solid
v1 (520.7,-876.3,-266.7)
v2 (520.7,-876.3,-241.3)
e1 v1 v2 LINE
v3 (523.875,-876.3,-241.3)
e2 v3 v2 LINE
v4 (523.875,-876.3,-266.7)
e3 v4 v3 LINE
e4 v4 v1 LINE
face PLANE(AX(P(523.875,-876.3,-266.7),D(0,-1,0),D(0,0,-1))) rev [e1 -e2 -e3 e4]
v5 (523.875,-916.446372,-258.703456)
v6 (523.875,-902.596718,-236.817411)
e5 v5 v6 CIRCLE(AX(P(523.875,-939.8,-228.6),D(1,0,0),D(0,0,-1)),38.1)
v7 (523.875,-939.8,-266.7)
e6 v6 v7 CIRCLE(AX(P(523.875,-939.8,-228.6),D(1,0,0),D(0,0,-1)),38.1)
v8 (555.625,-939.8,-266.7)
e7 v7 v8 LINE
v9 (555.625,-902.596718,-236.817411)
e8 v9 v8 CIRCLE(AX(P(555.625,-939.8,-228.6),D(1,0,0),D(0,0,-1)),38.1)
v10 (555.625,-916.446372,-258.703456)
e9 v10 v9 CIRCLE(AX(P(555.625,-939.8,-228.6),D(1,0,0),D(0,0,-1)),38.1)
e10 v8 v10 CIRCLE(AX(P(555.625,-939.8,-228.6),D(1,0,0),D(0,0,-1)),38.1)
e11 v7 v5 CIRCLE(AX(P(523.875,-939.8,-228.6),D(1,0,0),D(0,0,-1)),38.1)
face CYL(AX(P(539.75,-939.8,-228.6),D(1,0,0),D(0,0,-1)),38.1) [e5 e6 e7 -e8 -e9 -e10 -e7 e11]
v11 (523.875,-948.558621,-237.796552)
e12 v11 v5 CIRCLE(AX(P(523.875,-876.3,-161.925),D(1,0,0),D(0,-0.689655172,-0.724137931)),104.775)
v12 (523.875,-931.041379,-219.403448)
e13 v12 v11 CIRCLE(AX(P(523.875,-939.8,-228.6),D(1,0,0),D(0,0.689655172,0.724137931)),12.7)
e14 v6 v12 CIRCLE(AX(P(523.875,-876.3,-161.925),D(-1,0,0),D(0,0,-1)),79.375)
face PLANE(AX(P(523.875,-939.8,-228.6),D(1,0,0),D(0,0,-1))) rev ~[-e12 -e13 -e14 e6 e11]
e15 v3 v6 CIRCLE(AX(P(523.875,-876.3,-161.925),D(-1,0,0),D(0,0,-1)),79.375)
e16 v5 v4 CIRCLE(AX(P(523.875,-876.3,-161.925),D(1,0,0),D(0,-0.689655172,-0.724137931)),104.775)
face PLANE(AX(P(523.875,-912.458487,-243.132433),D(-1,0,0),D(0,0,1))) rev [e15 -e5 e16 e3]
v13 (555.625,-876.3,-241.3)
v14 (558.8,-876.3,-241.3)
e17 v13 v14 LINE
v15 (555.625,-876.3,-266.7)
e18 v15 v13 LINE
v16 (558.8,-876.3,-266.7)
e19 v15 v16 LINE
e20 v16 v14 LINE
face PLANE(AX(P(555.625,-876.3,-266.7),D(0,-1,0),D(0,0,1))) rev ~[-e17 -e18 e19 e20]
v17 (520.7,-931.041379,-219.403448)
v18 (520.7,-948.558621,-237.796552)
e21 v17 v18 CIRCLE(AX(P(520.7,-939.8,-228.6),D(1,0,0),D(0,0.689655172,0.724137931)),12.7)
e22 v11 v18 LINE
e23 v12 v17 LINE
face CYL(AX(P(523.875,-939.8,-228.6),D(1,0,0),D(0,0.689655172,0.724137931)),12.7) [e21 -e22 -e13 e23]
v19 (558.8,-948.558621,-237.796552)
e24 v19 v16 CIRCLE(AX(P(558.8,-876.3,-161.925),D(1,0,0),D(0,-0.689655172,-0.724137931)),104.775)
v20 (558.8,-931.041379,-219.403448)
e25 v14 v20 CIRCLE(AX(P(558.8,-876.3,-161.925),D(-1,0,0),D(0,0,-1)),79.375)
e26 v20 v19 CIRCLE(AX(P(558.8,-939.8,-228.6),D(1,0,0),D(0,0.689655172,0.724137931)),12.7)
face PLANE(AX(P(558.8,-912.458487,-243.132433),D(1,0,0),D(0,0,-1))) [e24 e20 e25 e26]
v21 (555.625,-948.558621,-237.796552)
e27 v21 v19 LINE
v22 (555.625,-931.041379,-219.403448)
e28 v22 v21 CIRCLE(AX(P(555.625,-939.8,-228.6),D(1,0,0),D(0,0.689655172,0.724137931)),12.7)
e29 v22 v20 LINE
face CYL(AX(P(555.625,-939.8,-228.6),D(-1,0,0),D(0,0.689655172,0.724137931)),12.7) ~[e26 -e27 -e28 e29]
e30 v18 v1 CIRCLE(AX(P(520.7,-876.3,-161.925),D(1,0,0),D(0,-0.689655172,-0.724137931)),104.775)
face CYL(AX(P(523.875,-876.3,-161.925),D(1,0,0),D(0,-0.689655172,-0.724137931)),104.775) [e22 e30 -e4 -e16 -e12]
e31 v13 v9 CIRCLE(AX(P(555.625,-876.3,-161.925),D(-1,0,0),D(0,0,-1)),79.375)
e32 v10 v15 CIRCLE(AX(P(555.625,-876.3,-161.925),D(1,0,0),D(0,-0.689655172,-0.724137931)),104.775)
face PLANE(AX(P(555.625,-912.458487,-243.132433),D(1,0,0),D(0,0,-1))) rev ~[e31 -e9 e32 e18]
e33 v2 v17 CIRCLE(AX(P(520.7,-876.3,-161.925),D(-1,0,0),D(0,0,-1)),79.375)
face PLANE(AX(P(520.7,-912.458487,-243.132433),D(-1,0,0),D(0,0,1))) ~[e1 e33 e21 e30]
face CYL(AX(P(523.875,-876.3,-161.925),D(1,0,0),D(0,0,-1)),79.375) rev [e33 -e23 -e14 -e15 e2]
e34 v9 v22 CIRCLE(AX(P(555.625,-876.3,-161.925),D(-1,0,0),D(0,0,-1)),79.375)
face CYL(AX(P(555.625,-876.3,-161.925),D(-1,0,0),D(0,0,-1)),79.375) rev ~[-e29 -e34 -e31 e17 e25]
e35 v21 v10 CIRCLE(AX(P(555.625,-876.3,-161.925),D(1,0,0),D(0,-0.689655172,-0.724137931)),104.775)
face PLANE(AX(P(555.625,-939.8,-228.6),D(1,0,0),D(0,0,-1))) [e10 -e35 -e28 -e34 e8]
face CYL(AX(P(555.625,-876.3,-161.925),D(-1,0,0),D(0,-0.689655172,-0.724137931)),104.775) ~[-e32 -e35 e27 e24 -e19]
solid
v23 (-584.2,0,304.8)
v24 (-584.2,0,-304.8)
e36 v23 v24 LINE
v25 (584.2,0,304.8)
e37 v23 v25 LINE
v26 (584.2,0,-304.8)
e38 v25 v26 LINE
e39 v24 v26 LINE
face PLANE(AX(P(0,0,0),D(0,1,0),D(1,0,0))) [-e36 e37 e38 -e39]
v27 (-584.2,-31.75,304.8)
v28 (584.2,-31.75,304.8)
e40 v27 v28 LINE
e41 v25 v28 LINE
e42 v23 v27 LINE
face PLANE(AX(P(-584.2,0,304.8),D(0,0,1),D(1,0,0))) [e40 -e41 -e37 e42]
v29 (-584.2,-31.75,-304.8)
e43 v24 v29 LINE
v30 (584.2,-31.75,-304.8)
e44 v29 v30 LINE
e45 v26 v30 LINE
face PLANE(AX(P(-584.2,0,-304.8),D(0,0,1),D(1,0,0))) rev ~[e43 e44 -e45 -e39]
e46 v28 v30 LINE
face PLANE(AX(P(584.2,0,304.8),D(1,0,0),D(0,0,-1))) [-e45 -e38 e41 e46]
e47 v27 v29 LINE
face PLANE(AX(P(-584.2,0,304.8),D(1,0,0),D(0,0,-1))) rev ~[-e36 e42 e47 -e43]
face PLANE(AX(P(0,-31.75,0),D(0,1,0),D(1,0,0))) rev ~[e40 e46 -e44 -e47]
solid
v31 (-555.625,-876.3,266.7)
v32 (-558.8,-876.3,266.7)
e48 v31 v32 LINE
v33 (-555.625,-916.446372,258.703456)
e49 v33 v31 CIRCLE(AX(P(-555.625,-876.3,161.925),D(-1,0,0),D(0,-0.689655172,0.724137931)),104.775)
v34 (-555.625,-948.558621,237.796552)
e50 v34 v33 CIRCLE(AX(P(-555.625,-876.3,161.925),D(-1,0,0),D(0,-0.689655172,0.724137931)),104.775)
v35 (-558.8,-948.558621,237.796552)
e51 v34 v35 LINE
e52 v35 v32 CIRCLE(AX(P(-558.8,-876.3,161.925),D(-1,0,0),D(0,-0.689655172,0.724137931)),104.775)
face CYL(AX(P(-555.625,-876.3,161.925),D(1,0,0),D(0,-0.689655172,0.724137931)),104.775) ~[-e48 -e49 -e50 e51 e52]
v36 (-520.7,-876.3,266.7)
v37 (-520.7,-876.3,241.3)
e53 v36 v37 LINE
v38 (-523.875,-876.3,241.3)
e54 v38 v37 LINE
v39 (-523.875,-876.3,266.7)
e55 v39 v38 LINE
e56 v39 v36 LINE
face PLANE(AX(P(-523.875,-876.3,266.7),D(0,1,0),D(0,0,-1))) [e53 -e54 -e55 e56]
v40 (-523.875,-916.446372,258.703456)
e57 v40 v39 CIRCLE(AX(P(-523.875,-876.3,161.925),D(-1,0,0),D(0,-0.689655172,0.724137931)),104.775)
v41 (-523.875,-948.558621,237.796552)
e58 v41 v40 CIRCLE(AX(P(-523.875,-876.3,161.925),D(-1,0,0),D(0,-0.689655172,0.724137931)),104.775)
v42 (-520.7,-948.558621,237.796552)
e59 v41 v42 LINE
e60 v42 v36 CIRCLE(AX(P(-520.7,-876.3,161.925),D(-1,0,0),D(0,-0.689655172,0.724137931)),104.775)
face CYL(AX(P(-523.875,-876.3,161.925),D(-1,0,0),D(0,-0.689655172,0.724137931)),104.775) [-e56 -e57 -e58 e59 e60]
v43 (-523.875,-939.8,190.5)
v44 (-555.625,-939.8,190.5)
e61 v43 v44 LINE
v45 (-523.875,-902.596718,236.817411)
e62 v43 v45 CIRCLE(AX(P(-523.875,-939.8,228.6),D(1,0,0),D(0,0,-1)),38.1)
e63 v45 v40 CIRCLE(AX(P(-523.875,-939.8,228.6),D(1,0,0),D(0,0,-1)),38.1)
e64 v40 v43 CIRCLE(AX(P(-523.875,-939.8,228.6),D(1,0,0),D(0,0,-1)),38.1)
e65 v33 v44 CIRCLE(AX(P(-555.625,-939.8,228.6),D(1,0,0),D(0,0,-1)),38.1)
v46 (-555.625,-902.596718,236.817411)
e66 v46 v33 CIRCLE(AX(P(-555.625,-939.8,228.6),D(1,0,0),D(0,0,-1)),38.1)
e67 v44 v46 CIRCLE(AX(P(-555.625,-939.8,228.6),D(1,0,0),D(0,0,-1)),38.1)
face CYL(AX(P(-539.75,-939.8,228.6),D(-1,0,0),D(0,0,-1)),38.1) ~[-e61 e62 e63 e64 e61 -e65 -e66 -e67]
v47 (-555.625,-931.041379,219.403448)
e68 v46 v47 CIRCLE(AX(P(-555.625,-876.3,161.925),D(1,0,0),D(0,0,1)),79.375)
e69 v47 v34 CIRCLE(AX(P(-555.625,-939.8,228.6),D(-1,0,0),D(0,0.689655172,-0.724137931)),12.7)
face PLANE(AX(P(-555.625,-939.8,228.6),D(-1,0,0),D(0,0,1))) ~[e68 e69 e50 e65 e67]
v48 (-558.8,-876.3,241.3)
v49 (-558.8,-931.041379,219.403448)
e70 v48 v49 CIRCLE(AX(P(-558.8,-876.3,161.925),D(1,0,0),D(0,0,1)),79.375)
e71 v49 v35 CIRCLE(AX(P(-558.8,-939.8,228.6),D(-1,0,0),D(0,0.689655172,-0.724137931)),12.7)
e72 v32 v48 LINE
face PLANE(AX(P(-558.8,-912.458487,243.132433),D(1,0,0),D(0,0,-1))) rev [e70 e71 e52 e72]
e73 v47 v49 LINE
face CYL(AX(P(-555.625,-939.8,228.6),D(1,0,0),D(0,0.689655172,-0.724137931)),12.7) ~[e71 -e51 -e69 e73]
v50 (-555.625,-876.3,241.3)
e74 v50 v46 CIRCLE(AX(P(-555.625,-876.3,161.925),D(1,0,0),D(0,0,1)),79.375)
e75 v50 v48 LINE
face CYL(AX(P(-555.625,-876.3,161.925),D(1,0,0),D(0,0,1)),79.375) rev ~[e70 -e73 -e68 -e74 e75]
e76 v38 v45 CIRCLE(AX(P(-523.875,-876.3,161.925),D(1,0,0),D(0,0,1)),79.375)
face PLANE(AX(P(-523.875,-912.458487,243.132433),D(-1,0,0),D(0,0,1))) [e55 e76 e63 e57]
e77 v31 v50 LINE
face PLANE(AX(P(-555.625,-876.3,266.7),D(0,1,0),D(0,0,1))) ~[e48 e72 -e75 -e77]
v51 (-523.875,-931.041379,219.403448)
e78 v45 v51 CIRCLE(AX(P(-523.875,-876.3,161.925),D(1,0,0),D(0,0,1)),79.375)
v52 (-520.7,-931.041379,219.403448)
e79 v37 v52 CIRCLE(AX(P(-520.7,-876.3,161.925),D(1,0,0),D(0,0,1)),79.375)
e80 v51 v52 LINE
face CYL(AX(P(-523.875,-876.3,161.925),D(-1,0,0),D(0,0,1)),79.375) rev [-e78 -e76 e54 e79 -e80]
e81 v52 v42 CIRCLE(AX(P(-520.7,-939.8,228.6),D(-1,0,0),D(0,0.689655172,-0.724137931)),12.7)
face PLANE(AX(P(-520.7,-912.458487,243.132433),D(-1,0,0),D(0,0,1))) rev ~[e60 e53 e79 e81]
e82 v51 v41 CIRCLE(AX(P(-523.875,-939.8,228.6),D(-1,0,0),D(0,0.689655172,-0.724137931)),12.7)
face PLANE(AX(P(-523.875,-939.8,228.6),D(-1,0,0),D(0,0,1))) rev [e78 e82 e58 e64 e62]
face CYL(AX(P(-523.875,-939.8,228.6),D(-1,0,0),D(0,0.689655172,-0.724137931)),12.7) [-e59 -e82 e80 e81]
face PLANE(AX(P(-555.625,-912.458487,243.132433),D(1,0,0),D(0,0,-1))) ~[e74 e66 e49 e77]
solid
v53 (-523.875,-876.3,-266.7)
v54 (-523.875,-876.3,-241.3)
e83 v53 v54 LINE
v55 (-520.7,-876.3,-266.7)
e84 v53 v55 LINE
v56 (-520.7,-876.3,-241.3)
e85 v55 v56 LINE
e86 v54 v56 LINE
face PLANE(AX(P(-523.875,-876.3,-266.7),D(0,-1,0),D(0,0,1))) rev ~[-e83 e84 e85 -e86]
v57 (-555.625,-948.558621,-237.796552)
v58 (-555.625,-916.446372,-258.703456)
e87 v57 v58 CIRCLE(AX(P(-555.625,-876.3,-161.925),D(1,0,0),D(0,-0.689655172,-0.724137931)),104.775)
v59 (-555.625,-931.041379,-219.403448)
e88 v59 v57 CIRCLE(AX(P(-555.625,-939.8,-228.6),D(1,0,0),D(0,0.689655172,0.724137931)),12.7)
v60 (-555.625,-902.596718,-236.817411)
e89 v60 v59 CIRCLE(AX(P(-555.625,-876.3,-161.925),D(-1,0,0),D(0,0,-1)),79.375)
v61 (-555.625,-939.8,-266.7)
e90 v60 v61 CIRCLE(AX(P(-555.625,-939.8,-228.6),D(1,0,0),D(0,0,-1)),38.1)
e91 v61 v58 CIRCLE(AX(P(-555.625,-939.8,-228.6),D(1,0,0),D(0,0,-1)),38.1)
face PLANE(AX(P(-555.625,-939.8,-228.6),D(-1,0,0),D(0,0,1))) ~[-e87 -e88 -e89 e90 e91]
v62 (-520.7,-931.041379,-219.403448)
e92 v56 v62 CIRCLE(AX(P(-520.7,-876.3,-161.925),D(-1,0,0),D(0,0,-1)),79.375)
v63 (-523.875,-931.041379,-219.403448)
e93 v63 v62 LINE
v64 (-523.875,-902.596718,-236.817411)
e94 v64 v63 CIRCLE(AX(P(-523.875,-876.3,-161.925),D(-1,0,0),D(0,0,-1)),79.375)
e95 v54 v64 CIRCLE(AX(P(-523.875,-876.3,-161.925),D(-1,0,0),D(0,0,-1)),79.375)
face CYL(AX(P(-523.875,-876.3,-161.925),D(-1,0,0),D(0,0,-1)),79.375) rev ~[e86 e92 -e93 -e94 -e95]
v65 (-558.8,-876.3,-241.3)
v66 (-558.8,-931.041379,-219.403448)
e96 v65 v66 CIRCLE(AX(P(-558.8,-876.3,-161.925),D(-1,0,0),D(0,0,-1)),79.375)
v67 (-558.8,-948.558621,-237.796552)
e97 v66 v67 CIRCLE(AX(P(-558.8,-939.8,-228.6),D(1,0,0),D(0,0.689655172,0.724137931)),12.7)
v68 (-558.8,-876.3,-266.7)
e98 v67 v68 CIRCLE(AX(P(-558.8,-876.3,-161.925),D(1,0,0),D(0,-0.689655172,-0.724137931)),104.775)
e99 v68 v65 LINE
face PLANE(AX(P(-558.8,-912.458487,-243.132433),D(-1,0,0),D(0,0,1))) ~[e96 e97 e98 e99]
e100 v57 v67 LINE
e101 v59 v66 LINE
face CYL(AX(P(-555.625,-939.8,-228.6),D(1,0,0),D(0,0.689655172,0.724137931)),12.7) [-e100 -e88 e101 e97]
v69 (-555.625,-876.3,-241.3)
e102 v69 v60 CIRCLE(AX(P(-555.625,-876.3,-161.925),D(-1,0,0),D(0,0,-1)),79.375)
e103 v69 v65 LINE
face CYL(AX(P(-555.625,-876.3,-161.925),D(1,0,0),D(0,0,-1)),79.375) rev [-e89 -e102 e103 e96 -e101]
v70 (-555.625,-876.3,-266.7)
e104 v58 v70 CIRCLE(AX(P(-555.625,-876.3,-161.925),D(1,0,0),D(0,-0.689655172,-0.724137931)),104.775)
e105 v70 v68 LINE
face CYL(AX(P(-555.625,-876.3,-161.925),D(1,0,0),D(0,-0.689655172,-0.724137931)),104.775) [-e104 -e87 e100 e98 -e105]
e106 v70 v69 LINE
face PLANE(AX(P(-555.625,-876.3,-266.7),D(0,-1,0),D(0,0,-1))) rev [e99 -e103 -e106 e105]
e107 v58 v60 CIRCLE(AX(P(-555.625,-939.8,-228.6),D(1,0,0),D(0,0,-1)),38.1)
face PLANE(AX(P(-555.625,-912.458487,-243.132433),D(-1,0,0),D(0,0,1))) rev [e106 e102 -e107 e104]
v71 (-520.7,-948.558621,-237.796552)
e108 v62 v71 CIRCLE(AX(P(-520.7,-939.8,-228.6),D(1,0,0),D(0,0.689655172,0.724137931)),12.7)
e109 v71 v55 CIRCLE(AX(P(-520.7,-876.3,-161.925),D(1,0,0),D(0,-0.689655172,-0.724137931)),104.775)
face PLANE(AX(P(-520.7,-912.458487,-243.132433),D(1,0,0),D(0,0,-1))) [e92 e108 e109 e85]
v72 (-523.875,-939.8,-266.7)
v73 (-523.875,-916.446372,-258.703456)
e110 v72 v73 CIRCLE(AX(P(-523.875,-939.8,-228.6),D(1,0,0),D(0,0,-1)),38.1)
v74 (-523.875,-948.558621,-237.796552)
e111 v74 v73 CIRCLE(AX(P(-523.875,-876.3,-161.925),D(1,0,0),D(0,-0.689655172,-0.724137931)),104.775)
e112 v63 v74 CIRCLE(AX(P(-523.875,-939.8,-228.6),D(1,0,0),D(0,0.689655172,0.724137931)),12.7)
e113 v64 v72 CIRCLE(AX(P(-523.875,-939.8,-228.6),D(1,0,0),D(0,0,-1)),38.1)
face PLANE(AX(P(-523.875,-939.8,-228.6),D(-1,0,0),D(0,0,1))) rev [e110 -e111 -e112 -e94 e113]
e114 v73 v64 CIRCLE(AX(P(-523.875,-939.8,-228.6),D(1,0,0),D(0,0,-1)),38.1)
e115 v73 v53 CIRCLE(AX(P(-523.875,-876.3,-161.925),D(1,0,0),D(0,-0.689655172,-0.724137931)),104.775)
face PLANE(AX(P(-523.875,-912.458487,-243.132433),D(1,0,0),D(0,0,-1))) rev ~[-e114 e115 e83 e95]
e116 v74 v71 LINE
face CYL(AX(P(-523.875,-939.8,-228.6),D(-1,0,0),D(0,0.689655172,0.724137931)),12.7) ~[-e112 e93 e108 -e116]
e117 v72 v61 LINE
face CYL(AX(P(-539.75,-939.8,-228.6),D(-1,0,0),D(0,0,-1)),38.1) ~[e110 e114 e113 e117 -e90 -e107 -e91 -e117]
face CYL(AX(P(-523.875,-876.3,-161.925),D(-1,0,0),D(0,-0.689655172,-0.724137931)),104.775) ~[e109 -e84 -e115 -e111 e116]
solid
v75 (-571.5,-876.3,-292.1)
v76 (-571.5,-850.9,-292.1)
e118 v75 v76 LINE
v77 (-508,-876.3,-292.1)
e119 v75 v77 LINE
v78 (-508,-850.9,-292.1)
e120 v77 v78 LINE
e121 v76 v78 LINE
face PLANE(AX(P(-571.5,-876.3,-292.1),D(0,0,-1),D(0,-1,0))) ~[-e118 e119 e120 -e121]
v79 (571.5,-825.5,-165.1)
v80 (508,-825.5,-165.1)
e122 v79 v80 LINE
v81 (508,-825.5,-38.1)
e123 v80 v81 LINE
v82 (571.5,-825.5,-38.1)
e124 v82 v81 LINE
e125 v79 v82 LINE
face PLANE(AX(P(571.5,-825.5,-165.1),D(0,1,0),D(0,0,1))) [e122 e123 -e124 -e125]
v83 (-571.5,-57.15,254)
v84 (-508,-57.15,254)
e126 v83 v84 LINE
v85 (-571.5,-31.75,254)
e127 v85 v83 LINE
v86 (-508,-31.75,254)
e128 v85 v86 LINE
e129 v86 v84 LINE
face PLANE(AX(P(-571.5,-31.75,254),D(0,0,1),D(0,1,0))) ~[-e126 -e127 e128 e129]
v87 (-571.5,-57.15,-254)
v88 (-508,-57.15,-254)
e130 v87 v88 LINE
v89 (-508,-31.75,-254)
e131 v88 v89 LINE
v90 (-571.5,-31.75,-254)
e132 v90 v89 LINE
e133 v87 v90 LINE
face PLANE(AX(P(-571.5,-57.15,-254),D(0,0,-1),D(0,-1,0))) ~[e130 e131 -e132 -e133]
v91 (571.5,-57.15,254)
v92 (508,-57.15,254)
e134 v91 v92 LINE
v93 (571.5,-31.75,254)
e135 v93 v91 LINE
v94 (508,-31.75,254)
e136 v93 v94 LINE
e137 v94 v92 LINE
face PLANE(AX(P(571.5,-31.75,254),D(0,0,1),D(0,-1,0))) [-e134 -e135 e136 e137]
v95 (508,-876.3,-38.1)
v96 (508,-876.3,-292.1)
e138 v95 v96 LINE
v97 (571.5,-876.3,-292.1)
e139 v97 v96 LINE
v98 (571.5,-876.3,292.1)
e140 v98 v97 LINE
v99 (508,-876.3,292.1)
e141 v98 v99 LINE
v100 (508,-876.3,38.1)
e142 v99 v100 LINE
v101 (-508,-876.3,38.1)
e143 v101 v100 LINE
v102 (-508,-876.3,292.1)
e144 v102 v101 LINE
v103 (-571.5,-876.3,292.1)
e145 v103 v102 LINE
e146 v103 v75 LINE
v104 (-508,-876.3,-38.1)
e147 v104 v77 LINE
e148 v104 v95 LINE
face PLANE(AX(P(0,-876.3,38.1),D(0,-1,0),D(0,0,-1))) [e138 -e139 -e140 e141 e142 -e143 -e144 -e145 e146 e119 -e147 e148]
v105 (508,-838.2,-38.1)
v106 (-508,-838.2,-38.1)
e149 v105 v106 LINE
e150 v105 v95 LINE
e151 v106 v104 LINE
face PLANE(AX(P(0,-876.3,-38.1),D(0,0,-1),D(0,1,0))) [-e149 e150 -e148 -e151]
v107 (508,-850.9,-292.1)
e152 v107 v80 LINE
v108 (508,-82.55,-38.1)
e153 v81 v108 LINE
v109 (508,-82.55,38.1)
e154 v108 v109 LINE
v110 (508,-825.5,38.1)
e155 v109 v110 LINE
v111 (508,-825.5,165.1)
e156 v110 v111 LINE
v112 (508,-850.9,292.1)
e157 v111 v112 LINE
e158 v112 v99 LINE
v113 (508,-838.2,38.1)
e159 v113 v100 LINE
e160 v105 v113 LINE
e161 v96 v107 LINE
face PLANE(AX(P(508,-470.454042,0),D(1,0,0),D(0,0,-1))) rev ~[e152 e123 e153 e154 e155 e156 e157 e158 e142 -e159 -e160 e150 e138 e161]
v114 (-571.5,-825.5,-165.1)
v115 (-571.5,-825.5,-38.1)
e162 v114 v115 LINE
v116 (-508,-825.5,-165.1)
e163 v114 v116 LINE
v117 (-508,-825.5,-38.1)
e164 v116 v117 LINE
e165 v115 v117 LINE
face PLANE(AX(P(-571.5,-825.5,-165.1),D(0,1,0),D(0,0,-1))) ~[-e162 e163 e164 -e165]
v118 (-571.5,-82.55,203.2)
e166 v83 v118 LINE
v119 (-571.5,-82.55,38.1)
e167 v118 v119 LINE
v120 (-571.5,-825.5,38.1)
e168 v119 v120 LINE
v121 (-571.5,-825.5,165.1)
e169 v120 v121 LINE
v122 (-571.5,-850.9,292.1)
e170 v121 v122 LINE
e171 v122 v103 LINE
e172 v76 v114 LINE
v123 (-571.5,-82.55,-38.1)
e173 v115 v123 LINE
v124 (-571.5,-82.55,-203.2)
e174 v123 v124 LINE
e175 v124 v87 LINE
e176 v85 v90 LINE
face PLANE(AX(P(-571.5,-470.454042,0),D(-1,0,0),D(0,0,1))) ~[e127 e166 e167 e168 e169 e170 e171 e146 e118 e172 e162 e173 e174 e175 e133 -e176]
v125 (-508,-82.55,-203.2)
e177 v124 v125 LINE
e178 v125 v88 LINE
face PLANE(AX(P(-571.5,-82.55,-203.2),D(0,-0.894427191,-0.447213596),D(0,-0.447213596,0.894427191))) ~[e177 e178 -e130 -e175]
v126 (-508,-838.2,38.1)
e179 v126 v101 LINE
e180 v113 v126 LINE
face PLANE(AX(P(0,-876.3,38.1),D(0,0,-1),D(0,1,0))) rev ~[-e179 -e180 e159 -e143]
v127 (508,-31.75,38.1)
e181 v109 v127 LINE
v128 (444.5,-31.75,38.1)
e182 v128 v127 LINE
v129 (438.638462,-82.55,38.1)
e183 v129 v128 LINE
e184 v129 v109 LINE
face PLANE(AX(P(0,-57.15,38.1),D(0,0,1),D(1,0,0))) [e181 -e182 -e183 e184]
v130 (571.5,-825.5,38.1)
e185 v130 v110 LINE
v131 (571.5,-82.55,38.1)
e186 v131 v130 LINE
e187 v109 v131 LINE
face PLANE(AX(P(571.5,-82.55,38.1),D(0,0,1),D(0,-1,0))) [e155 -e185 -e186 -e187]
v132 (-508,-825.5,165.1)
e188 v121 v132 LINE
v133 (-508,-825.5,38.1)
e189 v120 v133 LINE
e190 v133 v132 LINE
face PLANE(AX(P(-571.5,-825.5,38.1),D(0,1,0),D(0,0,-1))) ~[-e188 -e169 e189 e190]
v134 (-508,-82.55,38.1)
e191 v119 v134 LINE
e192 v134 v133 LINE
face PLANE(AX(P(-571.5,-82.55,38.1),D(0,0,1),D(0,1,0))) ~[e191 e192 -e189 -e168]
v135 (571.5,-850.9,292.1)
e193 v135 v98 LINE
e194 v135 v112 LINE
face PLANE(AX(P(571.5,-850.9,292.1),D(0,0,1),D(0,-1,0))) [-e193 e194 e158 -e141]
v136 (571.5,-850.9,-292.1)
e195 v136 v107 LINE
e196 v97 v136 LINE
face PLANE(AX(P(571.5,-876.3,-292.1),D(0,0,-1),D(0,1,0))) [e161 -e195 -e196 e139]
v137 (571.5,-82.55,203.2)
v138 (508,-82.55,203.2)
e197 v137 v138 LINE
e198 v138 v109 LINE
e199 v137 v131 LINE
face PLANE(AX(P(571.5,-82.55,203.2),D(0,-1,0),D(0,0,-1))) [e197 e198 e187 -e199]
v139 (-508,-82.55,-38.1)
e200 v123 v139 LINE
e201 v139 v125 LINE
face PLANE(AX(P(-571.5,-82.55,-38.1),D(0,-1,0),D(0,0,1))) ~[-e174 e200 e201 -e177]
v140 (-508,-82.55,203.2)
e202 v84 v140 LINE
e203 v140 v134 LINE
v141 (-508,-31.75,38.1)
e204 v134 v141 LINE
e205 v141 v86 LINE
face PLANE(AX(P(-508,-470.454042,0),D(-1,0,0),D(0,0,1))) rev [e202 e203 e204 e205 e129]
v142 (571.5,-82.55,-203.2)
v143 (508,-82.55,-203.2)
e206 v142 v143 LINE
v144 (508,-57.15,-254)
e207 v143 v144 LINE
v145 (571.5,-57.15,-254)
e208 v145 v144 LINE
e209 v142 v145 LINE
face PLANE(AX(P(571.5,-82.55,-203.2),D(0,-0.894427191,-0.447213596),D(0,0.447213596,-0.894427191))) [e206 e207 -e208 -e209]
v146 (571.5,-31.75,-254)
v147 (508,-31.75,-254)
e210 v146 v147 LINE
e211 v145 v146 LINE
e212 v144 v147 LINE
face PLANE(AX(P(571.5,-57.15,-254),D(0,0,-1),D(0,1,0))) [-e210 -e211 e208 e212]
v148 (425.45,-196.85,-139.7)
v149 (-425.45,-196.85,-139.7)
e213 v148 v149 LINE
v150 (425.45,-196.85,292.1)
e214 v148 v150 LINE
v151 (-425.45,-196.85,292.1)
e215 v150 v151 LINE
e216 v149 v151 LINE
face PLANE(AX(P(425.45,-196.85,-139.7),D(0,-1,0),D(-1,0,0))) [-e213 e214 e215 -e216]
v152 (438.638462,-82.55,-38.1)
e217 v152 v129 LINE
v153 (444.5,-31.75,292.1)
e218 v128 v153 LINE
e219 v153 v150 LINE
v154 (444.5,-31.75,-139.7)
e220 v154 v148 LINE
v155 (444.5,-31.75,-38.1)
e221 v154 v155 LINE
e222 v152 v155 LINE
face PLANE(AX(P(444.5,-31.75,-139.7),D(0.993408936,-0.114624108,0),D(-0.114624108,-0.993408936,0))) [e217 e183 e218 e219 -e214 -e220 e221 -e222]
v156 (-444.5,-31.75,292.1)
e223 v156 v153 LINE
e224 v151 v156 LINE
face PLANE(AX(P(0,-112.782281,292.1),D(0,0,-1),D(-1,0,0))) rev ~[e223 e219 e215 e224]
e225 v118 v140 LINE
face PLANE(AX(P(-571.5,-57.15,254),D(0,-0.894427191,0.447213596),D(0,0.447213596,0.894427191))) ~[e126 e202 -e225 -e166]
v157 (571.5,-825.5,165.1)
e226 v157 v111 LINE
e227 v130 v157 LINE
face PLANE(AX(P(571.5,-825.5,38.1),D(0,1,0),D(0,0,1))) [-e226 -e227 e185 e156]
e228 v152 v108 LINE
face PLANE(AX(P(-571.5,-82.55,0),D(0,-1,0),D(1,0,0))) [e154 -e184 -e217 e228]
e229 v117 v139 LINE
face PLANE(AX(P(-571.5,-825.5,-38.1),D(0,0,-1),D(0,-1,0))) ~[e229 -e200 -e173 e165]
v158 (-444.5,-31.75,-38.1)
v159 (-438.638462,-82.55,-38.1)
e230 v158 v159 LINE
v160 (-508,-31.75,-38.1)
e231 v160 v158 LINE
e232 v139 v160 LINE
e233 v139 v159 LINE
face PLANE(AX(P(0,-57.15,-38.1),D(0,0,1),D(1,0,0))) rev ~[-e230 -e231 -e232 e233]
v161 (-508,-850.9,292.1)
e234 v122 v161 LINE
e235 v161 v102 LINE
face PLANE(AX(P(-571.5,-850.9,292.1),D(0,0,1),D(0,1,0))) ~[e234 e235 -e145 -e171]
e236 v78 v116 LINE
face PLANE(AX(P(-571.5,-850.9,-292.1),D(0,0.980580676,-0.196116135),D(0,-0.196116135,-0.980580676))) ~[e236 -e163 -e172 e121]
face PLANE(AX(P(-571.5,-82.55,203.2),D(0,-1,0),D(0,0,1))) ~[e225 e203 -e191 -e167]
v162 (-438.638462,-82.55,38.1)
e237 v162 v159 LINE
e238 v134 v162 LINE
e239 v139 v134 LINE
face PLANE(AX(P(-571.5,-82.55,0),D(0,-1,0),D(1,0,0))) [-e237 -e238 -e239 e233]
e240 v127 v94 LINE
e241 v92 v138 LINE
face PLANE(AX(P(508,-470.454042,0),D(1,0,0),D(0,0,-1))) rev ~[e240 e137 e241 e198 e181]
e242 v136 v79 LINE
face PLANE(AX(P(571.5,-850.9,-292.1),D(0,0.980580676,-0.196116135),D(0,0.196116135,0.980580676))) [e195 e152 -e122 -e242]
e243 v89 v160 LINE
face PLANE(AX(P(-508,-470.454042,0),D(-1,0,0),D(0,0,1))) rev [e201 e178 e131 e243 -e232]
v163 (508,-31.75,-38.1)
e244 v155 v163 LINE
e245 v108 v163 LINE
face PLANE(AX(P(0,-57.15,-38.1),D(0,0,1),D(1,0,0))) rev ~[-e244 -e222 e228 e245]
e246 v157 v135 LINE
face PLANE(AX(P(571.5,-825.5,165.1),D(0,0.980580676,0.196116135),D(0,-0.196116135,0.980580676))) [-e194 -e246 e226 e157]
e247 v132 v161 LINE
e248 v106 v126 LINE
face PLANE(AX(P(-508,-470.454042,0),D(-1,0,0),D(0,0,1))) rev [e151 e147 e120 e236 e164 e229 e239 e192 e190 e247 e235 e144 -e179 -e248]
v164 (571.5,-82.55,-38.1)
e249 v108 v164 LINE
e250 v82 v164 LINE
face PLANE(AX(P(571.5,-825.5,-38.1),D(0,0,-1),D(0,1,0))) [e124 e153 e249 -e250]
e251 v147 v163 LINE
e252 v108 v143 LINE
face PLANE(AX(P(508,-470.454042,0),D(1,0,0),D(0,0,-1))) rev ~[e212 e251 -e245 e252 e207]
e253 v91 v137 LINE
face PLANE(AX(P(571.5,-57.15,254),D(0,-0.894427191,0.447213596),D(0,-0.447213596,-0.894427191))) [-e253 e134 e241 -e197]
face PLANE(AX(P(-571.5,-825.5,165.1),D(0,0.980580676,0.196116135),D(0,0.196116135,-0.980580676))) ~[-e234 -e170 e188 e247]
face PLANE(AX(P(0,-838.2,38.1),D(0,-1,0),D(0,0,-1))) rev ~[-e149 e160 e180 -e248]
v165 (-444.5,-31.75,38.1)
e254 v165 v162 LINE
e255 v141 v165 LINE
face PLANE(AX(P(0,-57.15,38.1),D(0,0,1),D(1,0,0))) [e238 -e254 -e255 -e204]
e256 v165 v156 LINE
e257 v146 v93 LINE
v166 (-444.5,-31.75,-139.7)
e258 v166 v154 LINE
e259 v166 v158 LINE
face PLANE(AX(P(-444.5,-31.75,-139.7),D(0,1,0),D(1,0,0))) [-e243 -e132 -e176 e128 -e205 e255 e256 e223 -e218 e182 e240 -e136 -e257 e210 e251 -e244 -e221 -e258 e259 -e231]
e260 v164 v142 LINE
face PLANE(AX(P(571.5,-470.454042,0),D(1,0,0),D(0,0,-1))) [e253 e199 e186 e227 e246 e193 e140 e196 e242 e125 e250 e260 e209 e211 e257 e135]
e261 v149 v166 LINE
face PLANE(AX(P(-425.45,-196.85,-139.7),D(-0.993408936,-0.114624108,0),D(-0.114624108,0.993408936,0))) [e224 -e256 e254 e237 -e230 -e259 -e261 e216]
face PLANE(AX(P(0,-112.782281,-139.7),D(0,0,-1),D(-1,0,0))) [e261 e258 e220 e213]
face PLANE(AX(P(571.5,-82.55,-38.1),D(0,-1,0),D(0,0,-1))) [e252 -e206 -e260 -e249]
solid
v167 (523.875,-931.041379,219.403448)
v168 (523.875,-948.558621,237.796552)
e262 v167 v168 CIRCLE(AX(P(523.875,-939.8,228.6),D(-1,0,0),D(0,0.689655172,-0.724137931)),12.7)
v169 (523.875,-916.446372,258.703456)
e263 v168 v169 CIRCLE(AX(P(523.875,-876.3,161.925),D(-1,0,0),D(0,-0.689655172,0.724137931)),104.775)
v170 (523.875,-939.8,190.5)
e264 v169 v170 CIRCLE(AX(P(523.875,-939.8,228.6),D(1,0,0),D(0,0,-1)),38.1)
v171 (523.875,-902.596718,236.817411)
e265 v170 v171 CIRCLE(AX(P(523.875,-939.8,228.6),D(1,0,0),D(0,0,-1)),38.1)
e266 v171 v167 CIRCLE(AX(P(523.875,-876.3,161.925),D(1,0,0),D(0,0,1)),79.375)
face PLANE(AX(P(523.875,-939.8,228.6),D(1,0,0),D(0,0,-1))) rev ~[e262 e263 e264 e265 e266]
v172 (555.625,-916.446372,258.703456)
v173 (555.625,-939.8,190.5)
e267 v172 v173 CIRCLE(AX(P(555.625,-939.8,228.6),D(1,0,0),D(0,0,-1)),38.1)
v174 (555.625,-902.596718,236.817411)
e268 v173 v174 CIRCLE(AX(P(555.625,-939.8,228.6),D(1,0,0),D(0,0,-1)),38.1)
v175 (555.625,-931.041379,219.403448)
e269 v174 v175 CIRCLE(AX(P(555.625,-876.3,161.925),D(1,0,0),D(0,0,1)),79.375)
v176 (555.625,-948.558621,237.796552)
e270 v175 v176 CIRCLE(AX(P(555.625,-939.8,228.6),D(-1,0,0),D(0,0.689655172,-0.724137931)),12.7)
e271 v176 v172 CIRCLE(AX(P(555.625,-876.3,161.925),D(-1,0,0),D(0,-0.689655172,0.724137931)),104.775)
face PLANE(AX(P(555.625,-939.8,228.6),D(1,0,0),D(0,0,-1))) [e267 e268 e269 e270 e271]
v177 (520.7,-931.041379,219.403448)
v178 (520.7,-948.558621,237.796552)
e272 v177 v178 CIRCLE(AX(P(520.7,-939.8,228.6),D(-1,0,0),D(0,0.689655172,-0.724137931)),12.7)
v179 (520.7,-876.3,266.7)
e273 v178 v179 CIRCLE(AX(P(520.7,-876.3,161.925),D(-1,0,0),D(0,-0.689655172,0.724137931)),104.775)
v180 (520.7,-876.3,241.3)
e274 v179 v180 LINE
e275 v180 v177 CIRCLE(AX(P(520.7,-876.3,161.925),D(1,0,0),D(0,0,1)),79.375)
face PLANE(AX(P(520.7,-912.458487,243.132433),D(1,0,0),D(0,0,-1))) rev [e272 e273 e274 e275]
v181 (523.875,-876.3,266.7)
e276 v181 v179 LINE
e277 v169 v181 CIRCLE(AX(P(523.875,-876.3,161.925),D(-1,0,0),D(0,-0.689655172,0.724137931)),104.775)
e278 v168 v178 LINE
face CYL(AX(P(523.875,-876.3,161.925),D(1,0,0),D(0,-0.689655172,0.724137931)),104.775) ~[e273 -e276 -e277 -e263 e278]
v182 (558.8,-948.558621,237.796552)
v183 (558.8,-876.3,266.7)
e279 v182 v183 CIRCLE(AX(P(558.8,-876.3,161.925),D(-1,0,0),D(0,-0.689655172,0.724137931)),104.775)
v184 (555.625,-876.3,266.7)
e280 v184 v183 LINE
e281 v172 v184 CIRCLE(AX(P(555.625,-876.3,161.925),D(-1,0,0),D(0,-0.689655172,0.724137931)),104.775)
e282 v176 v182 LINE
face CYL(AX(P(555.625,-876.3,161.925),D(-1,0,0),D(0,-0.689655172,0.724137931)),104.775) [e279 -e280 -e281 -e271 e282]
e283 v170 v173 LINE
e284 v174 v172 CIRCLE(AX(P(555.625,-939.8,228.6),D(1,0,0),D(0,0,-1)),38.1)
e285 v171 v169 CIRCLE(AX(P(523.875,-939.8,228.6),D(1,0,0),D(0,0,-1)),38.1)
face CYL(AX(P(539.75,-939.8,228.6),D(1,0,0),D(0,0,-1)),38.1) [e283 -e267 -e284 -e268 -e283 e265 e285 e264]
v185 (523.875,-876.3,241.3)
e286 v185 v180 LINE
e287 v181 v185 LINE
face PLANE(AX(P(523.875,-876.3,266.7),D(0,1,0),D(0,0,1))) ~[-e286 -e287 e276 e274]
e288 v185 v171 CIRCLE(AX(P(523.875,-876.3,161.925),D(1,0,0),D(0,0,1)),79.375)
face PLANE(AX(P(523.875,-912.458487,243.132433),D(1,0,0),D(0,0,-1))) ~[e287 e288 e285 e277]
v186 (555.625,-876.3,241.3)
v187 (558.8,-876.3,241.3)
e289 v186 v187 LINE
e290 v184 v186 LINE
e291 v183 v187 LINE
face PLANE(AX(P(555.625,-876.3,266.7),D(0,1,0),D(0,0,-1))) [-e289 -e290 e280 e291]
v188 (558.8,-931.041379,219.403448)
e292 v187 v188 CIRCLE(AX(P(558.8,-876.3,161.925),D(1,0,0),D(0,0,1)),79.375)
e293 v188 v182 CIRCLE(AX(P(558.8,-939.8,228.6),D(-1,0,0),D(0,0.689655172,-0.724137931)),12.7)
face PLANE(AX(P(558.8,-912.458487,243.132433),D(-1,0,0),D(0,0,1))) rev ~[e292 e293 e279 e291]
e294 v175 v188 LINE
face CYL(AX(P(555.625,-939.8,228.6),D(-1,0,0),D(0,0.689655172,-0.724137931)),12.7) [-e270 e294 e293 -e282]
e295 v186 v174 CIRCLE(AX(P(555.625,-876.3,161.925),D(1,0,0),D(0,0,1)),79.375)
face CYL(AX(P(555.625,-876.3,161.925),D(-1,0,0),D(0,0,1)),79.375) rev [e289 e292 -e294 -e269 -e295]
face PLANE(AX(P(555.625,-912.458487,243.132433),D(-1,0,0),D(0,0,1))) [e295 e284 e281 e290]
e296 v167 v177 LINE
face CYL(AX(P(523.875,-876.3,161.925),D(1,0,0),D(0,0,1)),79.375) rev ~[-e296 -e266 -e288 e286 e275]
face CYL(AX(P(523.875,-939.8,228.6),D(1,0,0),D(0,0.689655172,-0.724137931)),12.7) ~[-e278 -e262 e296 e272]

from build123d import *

# Parameters (mm, degrees)
SKETCH2_W                       = 1168.4
SKETCH2_H                       = 609.6
BOSS_EXTRUDE1_DEPTH             = 31.75
SKETCH4_W                       = 1143
SKETCH4_H                       = 50.8
BOSS_EXTRUDE2_DEPTH             = 38.1
BOSS_EXTRUDE3_DEPTH             = 292.1
BOSS_EXTRUDE3_DEPTH_BACK        = 139.7
BOSS_EXTRUDE4_DEPTH             = 63.5
BOSS_EXTRUDE7_REACH             = 1098.401
SKETCH10_W                      = 76.2
SKETCH10_H                      = 38.1
BOSS_EXTRUDE7_DIRECTION_2_REACH = 1098.401
SKETCH8_R                       = 38.1
BOSS_EXTRUDE5_DEPTH             = 15.875
BOSS_EXTRUDE5_2_DEPTH           = 15.875
BOSS_EXTRUDE6_DEPTH             = 3.175


with BuildPart() as part:
    # Sketch2 → Boss-Extrude1 (new body)
    with BuildSketch(Plane(origin=(0, 0, 0), x_dir=(1, 0, 0), z_dir=(0, 1, 0))):
        Rectangle(SKETCH2_W, SKETCH2_H)
    extrude(amount=-BOSS_EXTRUDE1_DEPTH)


with BuildPart() as body_2:
    # Sketch4 → Boss-Extrude2 (new, symmetric)
    with BuildSketch(Plane.XY):
        with Locations((0, -57.15)):
            Rectangle(SKETCH4_W, SKETCH4_H)
    extrude(amount=BOSS_EXTRUDE2_DEPTH, both=True)

    # Sketch5 → Boss-Extrude3 (add, two sides: drawn at the far end of the back side and taken through both)
    with BuildSketch(Plane.XY.offset(-BOSS_EXTRUDE3_DEPTH_BACK)):
        Polygon((-444.5, -31.75), (444.5, -31.75), (425.45, -196.85), (-425.45, -196.85), align=None)
    extrude(amount=BOSS_EXTRUDE3_DEPTH + BOSS_EXTRUDE3_DEPTH_BACK)

    # Sketch6 → Boss-Extrude4 (add)
    with BuildSketch(Plane(origin=(571.5, 0, 0), x_dir=(0, 0, -1), z_dir=(1, 0, 0))):
        Polygon((-38.1, -825.5), (-165.1, -825.5), (-292.1, -850.9), (-292.1, -876.3), (292.1, -876.3), (292.1, -850.9), (165.1, -825.5), (38.1, -825.5), (38.1, -82.55), (203.2, -82.55), (254, -57.15), (254, -31.75), (-254, -31.75), (-254, -57.15), (-203.2, -82.55), (-38.1, -82.55), align=None)
    boss_extrude4 = extrude(amount=-BOSS_EXTRUDE4_DEPTH)

    # Mirror1: Boss-Extrude4 across plane
    add(boss_extrude4.mirror(Plane(origin=(0, 0, 0), x_dir=(0, 0, 1), z_dir=(1, 0, 0))))

    # Boss-Extrude7: up to this face of the body (flat: up to its plane)
    boss_extrude7_end = Plane(body_2.part.faces().sort_by_distance((508, -581.066100324, 0))[0])
    # Sketch10 → Boss-Extrude7 (add, up to the picked face)
    with BuildSketch(Plane(origin=(0, 0, 0), x_dir=(0, 0, -1), z_dir=(1, 0, 0)), mode=Mode.PRIVATE) as boss_extrude7_sk1:
        with Locations((0, -857.25)):
            Rectangle(SKETCH10_W, SKETCH10_H)
    boss_extrude7_tool1 = split(extrude(boss_extrude7_sk1.sketch, amount=BOSS_EXTRUDE7_REACH, mode=Mode.PRIVATE), bisect_by=boss_extrude7_end, keep=Keep.BOTH, mode=Mode.PRIVATE)
    add(boss_extrude7_tool1.solids().sort_by(Axis((0, -857.25, 0), (1, 0, 0)))[0])

    # Boss-Extrude7 direction 2: up to this face of the body (flat: up to its plane)
    boss_extrude7_direction_2_end = Plane(body_2.part.faces().sort_by_distance((-508, -581.066100324, 0))[0])
    # Sketch10 → Boss-Extrude7 direction 2 (add, up to the picked face)
    with BuildSketch(Plane(origin=(0, 0, 0), x_dir=(0, 0, -1), z_dir=(1, 0, 0)), mode=Mode.PRIVATE) as boss_extrude7_direction_2_sk1:
        with Locations((0, -857.25)):
            Rectangle(SKETCH10_W, SKETCH10_H)
    boss_extrude7_direction_2_tool1 = split(extrude(boss_extrude7_direction_2_sk1.sketch, amount=-BOSS_EXTRUDE7_DIRECTION_2_REACH, mode=Mode.PRIVATE), bisect_by=boss_extrude7_direction_2_end, keep=Keep.BOTH, mode=Mode.PRIVATE)
    add(boss_extrude7_direction_2_tool1.solids().sort_by(Axis((0, -857.25, 0), (-1, 0, 0)))[0])


with BuildPart() as body_3:
    # Sketch8 → Boss-Extrude5 (new, symmetric)
    with BuildSketch(Plane(origin=(539.75, 0, 0), x_dir=(0, 0, -1), z_dir=(1, 0, 0))):
        with Locations((-228.6, -939.8)):
            Circle(SKETCH8_R)
    extrude(amount=BOSS_EXTRUDE5_DEPTH, both=True)


with BuildPart() as body_4:
    # Sketch8 → Boss-Extrude5 2 (new, symmetric)
    with BuildSketch(Plane(origin=(539.75, 0, 0), x_dir=(0, 0, -1), z_dir=(1, 0, 0))):
        with Locations((228.6, -939.8)):
            Circle(SKETCH8_R)
    extrude(amount=BOSS_EXTRUDE5_2_DEPTH, both=True)


    add(body_3.part)  # Boss-Extrude6 merges body 3
    # Sketch9 → Boss-Extrude6 (add)
    with BuildSketch(Plane(origin=(555.625, 0, 0), x_dir=(0, 0, -1), z_dir=(1, 0, 0))):
        with BuildLine():
            Line((-266.7, -876.3), (-241.3, -876.3))
            ThreePointArc((-241.3, -876.3), (-235.622837339, -905.779134936), (-219.403448276, -931.04137931))
            ThreePointArc((-219.403448276, -931.04137931), (-219.84137931, -948.996551724), (-237.796551724, -948.55862069))
            ThreePointArc((-237.796551724, -948.55862069), (-259.206145288, -915.212458115), (-266.7, -876.3))
        make_face()
        with BuildLine():
            Line((266.7, -876.3), (241.3, -876.3))
            ThreePointArc((241.3, -876.3), (235.622837339, -905.779134936), (219.403448276, -931.04137931))
            ThreePointArc((219.403448276, -931.04137931), (219.84137931, -948.996551724), (237.796551724, -948.55862069))
            ThreePointArc((237.796551724, -948.55862069), (259.206145288, -915.212458115), (266.7, -876.3))
        make_face()
    boss_extrude6 = extrude(amount=BOSS_EXTRUDE6_DEPTH)

    # Mirror2: Boss-Extrude6 across plane
    add(boss_extrude6.mirror(Plane(origin=(539.75, 0, 0), x_dir=(0, 0, 1), z_dir=(1, 0, 0))))


with BuildPart() as body_4_2:
    # Mirror3: mirrored copy
    add(body_4.part.mirror(Plane(origin=(0, 0, 0), x_dir=(0, 0, 1), z_dir=(1, 0, 0))))


solid = Compound([part.part, body_2.part, body_4.part, body_4_2.part])
